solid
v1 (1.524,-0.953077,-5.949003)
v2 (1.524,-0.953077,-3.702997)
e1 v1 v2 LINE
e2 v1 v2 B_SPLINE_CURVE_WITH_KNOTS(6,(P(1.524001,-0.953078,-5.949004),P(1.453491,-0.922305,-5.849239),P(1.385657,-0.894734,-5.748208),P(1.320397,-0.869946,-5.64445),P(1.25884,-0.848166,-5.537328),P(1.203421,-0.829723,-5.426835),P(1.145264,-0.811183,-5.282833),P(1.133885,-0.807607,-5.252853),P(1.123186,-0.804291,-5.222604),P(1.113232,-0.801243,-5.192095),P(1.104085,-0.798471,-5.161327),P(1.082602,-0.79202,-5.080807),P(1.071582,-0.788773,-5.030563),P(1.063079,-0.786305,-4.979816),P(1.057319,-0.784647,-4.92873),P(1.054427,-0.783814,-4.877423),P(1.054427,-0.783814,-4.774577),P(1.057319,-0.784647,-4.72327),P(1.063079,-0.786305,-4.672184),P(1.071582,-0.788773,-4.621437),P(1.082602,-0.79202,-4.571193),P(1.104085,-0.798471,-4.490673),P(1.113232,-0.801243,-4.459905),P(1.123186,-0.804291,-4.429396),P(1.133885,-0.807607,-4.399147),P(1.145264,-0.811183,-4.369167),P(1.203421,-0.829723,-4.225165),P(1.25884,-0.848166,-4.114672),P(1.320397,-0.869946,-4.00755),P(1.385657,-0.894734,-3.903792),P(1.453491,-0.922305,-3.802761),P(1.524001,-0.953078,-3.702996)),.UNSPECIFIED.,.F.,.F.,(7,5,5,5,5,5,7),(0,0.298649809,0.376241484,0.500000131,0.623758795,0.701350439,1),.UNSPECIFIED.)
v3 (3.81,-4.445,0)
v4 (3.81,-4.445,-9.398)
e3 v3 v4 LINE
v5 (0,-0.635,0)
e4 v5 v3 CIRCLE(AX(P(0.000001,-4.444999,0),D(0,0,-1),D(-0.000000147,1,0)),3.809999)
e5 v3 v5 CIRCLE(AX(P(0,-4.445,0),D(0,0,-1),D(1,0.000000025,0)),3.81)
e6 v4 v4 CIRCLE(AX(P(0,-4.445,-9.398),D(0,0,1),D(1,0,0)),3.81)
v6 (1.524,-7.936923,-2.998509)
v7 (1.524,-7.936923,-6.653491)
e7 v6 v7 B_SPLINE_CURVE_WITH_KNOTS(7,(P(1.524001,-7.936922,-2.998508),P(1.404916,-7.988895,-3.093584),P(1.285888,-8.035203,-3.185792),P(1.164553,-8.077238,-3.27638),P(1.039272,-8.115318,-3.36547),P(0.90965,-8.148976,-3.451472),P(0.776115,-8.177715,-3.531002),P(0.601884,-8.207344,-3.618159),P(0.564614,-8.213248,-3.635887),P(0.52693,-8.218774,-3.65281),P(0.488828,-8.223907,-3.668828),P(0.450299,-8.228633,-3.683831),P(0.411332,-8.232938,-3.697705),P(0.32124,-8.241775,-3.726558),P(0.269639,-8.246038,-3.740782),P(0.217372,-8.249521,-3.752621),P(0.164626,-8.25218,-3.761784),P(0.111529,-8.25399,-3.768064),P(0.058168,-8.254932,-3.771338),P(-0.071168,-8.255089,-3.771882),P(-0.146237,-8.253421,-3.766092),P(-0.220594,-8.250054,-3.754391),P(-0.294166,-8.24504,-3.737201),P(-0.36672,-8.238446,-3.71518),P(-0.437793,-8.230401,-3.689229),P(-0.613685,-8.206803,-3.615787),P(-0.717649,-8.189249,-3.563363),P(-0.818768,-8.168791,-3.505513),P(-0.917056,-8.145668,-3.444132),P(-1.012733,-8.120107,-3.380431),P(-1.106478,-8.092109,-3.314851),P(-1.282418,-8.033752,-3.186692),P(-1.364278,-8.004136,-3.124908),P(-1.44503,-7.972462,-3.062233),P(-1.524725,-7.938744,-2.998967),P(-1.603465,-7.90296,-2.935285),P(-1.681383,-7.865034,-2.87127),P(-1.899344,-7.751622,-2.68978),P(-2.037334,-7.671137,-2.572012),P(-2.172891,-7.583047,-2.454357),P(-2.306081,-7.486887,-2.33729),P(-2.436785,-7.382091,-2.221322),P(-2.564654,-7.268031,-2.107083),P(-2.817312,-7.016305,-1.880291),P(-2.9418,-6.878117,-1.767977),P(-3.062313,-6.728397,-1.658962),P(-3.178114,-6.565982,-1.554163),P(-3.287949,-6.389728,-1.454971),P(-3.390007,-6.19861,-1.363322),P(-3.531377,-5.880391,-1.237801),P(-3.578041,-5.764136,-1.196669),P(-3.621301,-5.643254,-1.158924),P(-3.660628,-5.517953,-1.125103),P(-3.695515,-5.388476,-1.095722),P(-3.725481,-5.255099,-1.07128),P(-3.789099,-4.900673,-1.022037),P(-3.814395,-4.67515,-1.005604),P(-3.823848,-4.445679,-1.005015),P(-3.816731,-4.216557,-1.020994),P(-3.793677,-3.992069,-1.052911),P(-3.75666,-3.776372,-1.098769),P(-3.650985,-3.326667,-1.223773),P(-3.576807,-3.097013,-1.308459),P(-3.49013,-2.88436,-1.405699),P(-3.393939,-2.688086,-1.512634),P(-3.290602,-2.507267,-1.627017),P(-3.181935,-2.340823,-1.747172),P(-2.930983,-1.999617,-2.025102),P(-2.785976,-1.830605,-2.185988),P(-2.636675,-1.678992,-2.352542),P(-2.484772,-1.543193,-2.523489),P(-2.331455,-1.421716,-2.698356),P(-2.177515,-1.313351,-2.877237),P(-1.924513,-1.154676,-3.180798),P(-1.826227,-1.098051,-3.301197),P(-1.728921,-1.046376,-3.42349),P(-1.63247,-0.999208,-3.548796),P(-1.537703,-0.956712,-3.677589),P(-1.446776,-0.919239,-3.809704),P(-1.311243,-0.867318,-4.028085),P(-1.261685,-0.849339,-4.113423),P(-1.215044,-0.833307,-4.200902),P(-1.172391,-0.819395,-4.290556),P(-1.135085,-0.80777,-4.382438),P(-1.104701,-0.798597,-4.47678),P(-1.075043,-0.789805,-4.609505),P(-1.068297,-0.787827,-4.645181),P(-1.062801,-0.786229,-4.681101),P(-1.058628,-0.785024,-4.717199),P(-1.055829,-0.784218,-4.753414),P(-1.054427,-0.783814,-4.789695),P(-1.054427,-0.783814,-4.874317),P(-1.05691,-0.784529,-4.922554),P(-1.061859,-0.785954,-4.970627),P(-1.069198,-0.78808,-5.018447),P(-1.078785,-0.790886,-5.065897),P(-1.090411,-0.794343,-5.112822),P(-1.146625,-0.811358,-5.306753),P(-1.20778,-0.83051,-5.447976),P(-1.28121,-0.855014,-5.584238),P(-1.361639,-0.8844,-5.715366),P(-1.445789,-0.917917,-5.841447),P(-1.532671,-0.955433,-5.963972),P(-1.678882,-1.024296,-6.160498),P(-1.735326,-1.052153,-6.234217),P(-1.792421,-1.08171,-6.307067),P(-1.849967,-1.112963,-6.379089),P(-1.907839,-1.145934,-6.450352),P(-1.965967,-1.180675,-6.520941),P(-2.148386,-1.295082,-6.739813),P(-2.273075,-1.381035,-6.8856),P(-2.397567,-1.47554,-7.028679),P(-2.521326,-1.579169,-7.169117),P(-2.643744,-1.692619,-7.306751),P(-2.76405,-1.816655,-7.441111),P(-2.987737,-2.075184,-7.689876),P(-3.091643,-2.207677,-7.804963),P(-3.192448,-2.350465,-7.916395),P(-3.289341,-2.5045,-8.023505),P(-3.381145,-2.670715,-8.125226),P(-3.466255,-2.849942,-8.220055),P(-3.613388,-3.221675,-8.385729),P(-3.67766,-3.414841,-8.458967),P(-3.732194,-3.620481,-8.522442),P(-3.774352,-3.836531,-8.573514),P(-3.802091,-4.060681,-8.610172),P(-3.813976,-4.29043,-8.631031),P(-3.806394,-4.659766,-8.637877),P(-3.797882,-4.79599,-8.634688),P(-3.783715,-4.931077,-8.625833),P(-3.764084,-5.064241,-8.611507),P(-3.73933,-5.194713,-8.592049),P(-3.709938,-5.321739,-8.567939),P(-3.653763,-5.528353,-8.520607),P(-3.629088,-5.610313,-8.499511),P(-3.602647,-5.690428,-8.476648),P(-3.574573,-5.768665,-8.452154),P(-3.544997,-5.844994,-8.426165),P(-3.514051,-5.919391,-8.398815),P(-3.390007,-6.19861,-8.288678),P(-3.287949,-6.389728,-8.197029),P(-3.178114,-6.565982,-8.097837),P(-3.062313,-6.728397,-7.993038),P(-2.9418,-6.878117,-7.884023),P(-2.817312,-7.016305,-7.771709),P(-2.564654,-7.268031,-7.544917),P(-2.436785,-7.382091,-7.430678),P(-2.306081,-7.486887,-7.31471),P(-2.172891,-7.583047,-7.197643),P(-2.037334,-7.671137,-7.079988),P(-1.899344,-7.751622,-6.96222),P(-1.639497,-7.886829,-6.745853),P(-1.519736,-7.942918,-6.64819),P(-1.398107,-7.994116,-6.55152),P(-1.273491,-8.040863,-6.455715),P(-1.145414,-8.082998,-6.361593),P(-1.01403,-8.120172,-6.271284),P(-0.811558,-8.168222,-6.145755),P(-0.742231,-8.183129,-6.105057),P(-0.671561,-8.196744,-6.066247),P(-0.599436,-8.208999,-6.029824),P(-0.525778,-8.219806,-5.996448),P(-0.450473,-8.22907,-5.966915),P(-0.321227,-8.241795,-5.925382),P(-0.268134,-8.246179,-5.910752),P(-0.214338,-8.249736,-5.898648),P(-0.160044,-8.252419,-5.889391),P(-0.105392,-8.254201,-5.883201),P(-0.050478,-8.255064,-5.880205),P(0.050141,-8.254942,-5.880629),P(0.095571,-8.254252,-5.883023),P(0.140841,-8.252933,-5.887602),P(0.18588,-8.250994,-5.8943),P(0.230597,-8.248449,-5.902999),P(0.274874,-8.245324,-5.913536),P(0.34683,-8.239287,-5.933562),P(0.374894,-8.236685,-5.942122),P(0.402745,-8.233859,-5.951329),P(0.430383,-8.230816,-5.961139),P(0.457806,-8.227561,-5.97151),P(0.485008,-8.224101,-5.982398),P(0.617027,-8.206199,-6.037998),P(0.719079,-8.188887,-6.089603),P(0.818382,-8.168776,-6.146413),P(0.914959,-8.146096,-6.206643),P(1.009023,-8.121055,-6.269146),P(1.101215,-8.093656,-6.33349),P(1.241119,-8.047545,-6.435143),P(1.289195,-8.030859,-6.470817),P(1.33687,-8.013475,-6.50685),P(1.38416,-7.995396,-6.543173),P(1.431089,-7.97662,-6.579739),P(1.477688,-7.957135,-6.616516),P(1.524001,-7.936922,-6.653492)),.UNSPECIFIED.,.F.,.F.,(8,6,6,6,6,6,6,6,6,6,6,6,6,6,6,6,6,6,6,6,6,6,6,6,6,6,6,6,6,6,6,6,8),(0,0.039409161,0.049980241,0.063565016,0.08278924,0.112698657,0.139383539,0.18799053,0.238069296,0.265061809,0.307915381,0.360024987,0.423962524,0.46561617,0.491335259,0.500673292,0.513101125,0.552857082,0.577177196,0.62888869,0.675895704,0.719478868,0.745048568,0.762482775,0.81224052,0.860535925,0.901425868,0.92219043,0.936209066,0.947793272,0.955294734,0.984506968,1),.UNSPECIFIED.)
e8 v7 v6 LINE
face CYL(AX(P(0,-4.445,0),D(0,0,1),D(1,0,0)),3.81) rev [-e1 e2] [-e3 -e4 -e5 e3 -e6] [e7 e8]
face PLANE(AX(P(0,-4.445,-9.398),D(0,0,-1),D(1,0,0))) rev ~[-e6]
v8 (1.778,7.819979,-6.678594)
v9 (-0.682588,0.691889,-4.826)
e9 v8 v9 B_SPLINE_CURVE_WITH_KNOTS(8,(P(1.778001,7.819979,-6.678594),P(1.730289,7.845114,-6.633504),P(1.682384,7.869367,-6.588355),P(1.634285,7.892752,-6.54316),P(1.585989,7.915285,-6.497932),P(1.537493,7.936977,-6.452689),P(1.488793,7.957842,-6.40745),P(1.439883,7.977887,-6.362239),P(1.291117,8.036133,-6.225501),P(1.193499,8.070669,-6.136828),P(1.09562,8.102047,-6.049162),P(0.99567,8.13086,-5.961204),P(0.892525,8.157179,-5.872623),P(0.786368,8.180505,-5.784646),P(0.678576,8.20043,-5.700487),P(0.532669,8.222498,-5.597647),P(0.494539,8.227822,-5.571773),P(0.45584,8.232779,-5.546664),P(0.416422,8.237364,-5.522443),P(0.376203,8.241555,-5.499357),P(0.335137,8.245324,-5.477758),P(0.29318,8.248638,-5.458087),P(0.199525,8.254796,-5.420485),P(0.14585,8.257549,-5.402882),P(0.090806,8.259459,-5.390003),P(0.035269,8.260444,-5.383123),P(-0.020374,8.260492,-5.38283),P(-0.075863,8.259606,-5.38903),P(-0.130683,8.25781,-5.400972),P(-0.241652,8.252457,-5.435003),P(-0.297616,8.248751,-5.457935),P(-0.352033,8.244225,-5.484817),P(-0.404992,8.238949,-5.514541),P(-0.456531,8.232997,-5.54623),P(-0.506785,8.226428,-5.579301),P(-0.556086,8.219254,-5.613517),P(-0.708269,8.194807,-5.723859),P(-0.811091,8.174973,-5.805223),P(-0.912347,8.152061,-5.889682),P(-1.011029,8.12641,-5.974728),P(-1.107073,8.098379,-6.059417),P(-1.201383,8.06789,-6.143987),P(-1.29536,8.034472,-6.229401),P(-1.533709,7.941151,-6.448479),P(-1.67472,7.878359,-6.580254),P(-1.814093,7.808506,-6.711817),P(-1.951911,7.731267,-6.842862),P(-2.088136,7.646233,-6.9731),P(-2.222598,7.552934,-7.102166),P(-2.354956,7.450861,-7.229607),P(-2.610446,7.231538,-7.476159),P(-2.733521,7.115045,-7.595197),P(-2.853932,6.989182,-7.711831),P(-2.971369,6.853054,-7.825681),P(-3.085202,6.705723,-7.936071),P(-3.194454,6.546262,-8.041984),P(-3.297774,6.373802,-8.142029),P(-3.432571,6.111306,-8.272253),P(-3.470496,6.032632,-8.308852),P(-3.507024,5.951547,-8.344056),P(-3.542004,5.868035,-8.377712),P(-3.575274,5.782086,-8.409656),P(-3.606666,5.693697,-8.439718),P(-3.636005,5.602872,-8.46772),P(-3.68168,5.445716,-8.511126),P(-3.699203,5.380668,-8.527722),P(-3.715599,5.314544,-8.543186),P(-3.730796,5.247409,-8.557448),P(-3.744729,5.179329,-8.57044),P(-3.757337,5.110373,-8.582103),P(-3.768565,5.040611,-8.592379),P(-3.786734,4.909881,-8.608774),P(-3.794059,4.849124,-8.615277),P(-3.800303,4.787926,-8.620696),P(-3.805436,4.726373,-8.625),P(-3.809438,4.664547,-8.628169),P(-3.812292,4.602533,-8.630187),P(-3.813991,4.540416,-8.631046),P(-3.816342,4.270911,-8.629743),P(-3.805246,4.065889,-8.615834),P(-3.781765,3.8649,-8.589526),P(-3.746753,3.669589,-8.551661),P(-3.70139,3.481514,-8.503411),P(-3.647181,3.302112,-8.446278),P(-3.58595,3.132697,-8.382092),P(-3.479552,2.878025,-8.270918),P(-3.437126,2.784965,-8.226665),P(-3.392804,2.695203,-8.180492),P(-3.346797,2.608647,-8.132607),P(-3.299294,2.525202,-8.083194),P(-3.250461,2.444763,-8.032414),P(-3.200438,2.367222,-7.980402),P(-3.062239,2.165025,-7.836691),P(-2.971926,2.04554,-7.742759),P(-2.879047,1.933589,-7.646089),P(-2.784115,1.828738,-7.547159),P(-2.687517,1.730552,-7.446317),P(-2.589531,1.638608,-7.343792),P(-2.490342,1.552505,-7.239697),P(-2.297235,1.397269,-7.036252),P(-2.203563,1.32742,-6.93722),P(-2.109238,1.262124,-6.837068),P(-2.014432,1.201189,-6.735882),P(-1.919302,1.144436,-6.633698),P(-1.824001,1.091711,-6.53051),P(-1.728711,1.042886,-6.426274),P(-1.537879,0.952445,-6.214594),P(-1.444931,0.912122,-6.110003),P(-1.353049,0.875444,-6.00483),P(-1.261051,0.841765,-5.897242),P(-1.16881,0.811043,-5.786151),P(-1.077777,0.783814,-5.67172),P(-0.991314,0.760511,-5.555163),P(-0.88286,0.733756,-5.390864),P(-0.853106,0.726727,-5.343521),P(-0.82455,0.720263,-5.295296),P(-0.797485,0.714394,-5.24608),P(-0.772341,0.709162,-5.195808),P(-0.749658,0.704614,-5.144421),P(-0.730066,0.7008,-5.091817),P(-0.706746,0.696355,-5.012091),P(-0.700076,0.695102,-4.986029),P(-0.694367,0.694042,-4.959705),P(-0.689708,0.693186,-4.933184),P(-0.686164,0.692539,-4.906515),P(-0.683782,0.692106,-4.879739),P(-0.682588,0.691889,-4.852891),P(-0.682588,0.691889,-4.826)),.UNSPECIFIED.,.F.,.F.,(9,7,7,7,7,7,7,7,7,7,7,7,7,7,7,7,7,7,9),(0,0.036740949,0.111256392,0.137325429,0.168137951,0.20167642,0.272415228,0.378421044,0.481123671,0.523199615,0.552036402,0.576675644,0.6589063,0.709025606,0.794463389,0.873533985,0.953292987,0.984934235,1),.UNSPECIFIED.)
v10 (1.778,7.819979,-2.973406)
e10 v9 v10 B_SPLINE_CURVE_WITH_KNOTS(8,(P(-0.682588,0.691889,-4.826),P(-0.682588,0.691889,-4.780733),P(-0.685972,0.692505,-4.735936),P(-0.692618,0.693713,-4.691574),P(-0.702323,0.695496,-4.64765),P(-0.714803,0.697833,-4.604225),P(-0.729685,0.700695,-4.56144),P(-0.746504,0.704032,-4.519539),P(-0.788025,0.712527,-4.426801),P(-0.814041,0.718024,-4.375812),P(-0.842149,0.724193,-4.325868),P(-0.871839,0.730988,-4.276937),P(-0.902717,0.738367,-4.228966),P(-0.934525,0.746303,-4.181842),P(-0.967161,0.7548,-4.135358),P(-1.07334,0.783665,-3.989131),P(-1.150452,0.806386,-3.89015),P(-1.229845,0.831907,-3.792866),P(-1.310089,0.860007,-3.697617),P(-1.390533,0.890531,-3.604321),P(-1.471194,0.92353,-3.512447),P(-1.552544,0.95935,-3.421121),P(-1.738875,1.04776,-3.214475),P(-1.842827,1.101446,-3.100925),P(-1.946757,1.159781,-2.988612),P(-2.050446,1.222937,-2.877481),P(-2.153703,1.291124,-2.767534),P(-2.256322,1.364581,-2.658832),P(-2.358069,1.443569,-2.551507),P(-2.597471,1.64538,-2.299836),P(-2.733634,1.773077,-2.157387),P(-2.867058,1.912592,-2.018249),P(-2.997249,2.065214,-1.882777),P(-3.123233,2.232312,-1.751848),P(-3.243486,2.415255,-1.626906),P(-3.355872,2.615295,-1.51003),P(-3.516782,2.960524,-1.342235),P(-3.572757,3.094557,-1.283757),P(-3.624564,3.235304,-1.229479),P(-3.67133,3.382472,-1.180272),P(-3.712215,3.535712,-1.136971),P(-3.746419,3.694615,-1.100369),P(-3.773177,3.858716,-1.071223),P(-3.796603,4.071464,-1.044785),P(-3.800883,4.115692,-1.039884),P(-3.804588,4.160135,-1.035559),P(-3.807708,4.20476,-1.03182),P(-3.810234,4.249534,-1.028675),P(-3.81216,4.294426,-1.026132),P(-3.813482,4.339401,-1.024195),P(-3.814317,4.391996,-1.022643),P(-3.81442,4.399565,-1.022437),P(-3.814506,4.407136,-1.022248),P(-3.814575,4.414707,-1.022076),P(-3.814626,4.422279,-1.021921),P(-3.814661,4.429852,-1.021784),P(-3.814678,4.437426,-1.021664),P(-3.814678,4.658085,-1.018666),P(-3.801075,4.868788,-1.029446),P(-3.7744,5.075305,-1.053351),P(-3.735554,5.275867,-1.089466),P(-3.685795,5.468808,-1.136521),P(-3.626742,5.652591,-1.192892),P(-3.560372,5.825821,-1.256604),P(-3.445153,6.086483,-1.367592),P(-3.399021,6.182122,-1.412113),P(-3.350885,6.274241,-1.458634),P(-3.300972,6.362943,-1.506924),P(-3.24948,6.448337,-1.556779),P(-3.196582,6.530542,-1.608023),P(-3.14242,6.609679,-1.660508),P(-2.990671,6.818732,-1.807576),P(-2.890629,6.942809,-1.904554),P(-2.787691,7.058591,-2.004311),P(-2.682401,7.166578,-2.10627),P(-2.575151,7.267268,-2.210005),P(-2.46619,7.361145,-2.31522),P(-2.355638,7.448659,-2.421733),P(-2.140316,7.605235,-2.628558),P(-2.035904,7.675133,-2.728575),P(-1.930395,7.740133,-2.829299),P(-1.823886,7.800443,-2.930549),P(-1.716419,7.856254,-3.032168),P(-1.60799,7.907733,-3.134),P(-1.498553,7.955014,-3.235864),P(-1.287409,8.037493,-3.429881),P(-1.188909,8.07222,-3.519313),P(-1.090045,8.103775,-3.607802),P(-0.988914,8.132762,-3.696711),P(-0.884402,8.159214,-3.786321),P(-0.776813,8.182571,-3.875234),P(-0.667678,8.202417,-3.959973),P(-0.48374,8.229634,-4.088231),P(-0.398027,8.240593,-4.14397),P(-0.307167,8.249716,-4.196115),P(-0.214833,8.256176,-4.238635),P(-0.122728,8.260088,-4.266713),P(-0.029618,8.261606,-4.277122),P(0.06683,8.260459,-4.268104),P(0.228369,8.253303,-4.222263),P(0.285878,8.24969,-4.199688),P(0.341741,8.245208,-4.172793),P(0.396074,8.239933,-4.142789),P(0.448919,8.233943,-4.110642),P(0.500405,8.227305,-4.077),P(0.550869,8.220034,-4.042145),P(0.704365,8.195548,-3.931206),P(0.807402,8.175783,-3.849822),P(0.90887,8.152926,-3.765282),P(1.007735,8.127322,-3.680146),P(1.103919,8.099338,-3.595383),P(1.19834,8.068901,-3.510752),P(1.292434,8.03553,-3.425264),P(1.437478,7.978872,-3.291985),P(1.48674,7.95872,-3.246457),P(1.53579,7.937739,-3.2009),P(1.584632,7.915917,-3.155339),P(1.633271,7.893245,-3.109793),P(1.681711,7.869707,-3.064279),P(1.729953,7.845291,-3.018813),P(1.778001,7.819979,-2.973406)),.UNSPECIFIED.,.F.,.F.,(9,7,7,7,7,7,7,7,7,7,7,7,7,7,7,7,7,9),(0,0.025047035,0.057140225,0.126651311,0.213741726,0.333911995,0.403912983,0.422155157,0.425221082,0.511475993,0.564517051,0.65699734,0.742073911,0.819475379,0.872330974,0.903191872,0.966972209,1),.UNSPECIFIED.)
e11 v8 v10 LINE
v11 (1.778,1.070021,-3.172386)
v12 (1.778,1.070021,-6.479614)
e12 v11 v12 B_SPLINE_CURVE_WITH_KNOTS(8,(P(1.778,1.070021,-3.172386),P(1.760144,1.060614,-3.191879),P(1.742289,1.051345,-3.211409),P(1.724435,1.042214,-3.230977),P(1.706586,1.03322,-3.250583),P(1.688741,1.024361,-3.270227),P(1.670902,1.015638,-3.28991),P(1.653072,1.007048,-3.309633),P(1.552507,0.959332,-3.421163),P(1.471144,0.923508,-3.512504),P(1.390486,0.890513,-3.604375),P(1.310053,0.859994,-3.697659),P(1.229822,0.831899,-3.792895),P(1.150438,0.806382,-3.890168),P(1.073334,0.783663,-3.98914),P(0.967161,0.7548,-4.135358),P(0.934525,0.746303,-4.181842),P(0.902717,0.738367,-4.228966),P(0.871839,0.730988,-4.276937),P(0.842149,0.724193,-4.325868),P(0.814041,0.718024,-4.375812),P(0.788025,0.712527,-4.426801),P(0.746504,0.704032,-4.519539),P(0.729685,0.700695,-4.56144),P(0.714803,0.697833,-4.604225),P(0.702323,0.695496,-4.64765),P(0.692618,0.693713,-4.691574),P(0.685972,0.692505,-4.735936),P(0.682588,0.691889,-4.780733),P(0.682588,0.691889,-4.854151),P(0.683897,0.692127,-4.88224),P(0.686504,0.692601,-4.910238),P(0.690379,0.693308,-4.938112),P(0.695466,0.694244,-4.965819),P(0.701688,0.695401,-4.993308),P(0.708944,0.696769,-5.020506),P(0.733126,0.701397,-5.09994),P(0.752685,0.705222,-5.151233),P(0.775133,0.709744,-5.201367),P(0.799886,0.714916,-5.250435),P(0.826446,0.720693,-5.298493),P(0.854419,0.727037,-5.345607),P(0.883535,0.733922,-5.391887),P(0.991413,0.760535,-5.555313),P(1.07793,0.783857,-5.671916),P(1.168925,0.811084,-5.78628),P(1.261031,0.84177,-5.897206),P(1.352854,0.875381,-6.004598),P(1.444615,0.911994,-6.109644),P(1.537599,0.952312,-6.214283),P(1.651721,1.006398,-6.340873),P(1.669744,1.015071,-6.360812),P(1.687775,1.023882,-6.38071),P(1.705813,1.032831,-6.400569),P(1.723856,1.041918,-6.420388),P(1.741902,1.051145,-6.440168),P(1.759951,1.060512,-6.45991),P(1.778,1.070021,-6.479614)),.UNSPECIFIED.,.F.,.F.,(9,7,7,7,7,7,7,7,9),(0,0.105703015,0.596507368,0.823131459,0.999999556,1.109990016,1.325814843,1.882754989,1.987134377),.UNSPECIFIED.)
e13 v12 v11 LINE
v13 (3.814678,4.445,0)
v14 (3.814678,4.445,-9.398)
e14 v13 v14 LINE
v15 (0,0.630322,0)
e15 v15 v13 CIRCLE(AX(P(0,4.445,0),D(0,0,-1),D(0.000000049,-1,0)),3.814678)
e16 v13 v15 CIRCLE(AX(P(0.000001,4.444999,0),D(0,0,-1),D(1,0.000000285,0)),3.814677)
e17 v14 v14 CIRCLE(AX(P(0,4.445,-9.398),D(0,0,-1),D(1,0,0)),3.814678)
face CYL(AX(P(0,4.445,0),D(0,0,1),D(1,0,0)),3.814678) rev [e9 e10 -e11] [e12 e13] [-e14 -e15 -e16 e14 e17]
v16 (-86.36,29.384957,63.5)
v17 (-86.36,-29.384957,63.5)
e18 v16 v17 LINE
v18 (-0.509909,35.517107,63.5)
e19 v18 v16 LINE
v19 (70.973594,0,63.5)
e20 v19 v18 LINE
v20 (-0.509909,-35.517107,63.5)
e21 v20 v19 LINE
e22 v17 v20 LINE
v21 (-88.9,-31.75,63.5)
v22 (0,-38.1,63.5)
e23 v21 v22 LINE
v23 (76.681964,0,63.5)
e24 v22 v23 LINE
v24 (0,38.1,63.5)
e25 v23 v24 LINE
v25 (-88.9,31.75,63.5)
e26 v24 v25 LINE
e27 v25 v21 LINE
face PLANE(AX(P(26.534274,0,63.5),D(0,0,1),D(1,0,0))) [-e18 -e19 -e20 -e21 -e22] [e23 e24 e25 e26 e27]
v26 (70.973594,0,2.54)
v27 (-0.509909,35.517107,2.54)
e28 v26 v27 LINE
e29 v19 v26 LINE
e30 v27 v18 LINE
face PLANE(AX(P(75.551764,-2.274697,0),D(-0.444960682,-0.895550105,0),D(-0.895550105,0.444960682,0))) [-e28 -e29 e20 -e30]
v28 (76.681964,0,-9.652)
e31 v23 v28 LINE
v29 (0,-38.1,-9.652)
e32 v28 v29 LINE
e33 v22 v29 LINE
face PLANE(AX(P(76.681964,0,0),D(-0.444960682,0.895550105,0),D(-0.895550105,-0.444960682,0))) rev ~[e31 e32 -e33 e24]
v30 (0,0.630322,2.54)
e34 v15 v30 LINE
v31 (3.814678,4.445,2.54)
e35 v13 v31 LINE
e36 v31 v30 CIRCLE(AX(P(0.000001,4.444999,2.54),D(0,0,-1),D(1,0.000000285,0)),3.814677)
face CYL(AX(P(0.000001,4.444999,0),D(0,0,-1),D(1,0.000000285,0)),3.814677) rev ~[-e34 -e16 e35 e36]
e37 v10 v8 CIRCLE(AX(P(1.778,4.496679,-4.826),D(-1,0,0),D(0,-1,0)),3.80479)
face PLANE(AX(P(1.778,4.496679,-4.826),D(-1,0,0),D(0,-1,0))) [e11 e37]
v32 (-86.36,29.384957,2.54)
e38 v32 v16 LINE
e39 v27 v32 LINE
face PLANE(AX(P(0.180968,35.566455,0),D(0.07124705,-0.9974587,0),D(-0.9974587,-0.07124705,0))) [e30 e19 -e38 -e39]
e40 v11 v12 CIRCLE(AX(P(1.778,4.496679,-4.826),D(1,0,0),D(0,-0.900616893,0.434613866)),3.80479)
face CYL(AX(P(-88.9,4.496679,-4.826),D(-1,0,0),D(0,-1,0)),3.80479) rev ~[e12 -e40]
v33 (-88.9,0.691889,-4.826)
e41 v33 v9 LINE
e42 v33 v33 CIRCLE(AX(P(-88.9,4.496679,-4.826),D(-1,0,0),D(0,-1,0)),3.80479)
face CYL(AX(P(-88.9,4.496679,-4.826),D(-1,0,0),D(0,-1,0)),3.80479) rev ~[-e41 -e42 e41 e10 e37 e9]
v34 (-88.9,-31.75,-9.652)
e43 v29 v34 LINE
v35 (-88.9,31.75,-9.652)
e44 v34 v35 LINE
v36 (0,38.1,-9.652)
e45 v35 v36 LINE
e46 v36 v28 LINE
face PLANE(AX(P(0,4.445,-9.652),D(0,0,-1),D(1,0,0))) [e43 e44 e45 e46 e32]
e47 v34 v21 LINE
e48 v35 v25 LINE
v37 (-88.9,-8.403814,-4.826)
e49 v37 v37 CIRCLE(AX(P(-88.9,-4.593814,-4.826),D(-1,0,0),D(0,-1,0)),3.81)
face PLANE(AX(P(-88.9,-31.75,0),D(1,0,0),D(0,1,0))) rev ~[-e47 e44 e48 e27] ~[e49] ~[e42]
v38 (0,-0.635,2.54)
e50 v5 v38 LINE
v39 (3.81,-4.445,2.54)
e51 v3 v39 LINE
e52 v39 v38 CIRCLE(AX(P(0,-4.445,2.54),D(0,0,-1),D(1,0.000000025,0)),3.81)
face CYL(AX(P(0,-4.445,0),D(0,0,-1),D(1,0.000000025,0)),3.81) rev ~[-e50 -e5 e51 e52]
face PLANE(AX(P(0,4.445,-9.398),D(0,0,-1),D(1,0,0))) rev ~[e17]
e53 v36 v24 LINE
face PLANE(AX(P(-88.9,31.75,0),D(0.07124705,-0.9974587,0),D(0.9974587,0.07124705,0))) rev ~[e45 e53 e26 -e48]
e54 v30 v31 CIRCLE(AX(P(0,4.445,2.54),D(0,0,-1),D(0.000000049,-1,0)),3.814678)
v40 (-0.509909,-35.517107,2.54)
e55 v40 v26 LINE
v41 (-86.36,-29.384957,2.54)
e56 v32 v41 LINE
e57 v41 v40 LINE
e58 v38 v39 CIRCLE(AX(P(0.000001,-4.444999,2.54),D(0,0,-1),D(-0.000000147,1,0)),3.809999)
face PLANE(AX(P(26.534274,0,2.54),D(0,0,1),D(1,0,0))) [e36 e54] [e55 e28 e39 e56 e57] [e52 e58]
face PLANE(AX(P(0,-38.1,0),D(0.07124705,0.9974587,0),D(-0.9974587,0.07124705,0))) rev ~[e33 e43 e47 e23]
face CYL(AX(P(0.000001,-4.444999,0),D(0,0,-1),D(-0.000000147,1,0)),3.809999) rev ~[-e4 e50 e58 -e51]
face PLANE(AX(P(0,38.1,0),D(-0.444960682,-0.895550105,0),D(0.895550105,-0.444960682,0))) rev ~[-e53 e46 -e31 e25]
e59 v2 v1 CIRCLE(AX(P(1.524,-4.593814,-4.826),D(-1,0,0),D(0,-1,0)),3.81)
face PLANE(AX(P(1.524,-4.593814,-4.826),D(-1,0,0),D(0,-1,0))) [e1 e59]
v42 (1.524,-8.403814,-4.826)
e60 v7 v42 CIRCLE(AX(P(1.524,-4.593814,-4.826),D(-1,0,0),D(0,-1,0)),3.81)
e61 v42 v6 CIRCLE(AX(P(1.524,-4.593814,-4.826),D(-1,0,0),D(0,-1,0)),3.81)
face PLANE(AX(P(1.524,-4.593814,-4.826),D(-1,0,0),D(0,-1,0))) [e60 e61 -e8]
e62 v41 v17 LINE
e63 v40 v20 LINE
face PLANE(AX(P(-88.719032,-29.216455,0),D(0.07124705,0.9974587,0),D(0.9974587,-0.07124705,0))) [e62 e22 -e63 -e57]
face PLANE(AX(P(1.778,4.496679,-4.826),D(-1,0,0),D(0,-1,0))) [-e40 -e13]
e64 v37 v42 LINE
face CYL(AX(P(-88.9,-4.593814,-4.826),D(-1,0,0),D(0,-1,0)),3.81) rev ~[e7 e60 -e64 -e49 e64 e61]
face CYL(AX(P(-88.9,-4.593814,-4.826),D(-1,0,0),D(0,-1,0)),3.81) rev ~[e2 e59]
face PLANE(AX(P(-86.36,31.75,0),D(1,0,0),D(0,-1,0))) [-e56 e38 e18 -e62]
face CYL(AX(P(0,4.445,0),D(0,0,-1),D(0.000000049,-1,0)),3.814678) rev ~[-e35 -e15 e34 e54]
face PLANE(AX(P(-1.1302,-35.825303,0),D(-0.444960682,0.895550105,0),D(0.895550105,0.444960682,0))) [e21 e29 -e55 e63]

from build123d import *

# Parameters (mm, degrees)
F1_DEPTH    = 63.5
F2_T        = -2.54
F4_DEPTH    = 25.4
F1_FACE_R   = 3.81
F1_FACE_R_2 = 3.814678
F5_DEPTH    = 9.652
F7_R        = 3.80479
F8_DEPTH    = 90.678
F9_DEPTH    = 0.254
F7_R_2      = 3.81
F10_DEPTH   = 90.424
F11_R       = 3.910877
F12_DEPTH   = 0.254


with BuildPart() as f1:
    # F0 (on Top) → F1 (new body)
    with BuildSketch(Plane.XY):
        Polygon((76.681964, 0), (0, 38.1), (0, 0), (0, -38.1), align=None)
        Polygon((0, 0), (0, 38.1), (-88.9, 31.75), (-88.9, 0), align=None)
        Polygon((0, -38.1), (0, 0), (-88.9, 0), (-88.9, -31.75), align=None)
    extrude(amount=F1_DEPTH)

    # F2
    f2_openings = [f1.faces().sort_by_distance(p)[0] for p in [
        (-21.133783, 0, 63.5),
    ]]
    offset(amount=F2_T, openings=f2_openings)

    # F3 (on face) → F4 (cut)
    with BuildSketch(Plane(origin=(0, 0, 0), x_dir=(1, 0, 0), z_dir=(0, 0, -1))):
        with BuildLine():
            ThreePointArc((3.814678, -4.445), (2.697385, -1.747615), (0, -0.630322))
            ThreePointArc((0, -0.630322), (-2.697385, -7.142385), (3.814678, -4.445))
        make_face()
        with BuildLine():
            ThreePointArc((3.81, 4.445), (-2.694077, 7.139077), (0, 0.635))
            ThreePointArc((0, 0.635), (2.694077, 1.750923), (3.81, 4.445))
        make_face()
    extrude(amount=-F4_DEPTH, mode=Mode.SUBTRACT)

    # F1_face (on face) → F5 (join)
    with BuildSketch(Plane(origin=(-21.133783, 0, 0), x_dir=(1, 0, 0), z_dir=(0, 0, -1))):
        Polygon((21.133783, -38.1), (97.815747, 0), (21.133783, 38.1), (-67.766217, 31.75), (-67.766217, -31.75), align=None)
        with Locations((21.133783, 4.445)):
            Circle(F1_FACE_R, mode=Mode.SUBTRACT)
        with Locations((21.133783, -4.445)):
            Circle(F1_FACE_R_2, mode=Mode.SUBTRACT)
    extrude(amount=F5_DEPTH)

    # F7 (on face) → F8 (cut)
    with BuildSketch(Plane(origin=(-88.9, 0, 0), x_dir=(0, -1, 0), z_dir=(-1, 0, 0))):
        with Locations((-4.496679, -4.826)):
            Circle(F7_R)
    extrude(amount=-F8_DEPTH, mode=Mode.SUBTRACT)

    # F6 (on face) → F9 (join)
    with BuildSketch(Plane(origin=(0, 0, -9.652), x_dir=(1, 0, 0), z_dir=(0, 0, -1))):
        with BuildLine():
            ThreePointArc((3.814678, -4.445), (0, -0.630322), (-3.814678, -4.445))
            ThreePointArc((-3.814678, -4.445), (0, -8.259678), (3.814678, -4.445))
        make_face()
    extrude(amount=-F9_DEPTH)

    # F7 (on face) → F10 (cut)
    with BuildSketch(Plane(origin=(-88.9, 0, 0), x_dir=(0, -1, 0), z_dir=(-1, 0, 0))):
        with Locations((4.593814, -4.826)):
            Circle(F7_R_2)
    extrude(amount=-F10_DEPTH, mode=Mode.SUBTRACT)

    # F11 (on face) → F12 (join)
    with BuildSketch(Plane(origin=(0, 0, -9.652), x_dir=(1, 0, 0), z_dir=(0, 0, -1))):
        with Locations((0, 4.445)):
            Circle(F11_R)
    extrude(amount=-F12_DEPTH)


solid = f1.part
